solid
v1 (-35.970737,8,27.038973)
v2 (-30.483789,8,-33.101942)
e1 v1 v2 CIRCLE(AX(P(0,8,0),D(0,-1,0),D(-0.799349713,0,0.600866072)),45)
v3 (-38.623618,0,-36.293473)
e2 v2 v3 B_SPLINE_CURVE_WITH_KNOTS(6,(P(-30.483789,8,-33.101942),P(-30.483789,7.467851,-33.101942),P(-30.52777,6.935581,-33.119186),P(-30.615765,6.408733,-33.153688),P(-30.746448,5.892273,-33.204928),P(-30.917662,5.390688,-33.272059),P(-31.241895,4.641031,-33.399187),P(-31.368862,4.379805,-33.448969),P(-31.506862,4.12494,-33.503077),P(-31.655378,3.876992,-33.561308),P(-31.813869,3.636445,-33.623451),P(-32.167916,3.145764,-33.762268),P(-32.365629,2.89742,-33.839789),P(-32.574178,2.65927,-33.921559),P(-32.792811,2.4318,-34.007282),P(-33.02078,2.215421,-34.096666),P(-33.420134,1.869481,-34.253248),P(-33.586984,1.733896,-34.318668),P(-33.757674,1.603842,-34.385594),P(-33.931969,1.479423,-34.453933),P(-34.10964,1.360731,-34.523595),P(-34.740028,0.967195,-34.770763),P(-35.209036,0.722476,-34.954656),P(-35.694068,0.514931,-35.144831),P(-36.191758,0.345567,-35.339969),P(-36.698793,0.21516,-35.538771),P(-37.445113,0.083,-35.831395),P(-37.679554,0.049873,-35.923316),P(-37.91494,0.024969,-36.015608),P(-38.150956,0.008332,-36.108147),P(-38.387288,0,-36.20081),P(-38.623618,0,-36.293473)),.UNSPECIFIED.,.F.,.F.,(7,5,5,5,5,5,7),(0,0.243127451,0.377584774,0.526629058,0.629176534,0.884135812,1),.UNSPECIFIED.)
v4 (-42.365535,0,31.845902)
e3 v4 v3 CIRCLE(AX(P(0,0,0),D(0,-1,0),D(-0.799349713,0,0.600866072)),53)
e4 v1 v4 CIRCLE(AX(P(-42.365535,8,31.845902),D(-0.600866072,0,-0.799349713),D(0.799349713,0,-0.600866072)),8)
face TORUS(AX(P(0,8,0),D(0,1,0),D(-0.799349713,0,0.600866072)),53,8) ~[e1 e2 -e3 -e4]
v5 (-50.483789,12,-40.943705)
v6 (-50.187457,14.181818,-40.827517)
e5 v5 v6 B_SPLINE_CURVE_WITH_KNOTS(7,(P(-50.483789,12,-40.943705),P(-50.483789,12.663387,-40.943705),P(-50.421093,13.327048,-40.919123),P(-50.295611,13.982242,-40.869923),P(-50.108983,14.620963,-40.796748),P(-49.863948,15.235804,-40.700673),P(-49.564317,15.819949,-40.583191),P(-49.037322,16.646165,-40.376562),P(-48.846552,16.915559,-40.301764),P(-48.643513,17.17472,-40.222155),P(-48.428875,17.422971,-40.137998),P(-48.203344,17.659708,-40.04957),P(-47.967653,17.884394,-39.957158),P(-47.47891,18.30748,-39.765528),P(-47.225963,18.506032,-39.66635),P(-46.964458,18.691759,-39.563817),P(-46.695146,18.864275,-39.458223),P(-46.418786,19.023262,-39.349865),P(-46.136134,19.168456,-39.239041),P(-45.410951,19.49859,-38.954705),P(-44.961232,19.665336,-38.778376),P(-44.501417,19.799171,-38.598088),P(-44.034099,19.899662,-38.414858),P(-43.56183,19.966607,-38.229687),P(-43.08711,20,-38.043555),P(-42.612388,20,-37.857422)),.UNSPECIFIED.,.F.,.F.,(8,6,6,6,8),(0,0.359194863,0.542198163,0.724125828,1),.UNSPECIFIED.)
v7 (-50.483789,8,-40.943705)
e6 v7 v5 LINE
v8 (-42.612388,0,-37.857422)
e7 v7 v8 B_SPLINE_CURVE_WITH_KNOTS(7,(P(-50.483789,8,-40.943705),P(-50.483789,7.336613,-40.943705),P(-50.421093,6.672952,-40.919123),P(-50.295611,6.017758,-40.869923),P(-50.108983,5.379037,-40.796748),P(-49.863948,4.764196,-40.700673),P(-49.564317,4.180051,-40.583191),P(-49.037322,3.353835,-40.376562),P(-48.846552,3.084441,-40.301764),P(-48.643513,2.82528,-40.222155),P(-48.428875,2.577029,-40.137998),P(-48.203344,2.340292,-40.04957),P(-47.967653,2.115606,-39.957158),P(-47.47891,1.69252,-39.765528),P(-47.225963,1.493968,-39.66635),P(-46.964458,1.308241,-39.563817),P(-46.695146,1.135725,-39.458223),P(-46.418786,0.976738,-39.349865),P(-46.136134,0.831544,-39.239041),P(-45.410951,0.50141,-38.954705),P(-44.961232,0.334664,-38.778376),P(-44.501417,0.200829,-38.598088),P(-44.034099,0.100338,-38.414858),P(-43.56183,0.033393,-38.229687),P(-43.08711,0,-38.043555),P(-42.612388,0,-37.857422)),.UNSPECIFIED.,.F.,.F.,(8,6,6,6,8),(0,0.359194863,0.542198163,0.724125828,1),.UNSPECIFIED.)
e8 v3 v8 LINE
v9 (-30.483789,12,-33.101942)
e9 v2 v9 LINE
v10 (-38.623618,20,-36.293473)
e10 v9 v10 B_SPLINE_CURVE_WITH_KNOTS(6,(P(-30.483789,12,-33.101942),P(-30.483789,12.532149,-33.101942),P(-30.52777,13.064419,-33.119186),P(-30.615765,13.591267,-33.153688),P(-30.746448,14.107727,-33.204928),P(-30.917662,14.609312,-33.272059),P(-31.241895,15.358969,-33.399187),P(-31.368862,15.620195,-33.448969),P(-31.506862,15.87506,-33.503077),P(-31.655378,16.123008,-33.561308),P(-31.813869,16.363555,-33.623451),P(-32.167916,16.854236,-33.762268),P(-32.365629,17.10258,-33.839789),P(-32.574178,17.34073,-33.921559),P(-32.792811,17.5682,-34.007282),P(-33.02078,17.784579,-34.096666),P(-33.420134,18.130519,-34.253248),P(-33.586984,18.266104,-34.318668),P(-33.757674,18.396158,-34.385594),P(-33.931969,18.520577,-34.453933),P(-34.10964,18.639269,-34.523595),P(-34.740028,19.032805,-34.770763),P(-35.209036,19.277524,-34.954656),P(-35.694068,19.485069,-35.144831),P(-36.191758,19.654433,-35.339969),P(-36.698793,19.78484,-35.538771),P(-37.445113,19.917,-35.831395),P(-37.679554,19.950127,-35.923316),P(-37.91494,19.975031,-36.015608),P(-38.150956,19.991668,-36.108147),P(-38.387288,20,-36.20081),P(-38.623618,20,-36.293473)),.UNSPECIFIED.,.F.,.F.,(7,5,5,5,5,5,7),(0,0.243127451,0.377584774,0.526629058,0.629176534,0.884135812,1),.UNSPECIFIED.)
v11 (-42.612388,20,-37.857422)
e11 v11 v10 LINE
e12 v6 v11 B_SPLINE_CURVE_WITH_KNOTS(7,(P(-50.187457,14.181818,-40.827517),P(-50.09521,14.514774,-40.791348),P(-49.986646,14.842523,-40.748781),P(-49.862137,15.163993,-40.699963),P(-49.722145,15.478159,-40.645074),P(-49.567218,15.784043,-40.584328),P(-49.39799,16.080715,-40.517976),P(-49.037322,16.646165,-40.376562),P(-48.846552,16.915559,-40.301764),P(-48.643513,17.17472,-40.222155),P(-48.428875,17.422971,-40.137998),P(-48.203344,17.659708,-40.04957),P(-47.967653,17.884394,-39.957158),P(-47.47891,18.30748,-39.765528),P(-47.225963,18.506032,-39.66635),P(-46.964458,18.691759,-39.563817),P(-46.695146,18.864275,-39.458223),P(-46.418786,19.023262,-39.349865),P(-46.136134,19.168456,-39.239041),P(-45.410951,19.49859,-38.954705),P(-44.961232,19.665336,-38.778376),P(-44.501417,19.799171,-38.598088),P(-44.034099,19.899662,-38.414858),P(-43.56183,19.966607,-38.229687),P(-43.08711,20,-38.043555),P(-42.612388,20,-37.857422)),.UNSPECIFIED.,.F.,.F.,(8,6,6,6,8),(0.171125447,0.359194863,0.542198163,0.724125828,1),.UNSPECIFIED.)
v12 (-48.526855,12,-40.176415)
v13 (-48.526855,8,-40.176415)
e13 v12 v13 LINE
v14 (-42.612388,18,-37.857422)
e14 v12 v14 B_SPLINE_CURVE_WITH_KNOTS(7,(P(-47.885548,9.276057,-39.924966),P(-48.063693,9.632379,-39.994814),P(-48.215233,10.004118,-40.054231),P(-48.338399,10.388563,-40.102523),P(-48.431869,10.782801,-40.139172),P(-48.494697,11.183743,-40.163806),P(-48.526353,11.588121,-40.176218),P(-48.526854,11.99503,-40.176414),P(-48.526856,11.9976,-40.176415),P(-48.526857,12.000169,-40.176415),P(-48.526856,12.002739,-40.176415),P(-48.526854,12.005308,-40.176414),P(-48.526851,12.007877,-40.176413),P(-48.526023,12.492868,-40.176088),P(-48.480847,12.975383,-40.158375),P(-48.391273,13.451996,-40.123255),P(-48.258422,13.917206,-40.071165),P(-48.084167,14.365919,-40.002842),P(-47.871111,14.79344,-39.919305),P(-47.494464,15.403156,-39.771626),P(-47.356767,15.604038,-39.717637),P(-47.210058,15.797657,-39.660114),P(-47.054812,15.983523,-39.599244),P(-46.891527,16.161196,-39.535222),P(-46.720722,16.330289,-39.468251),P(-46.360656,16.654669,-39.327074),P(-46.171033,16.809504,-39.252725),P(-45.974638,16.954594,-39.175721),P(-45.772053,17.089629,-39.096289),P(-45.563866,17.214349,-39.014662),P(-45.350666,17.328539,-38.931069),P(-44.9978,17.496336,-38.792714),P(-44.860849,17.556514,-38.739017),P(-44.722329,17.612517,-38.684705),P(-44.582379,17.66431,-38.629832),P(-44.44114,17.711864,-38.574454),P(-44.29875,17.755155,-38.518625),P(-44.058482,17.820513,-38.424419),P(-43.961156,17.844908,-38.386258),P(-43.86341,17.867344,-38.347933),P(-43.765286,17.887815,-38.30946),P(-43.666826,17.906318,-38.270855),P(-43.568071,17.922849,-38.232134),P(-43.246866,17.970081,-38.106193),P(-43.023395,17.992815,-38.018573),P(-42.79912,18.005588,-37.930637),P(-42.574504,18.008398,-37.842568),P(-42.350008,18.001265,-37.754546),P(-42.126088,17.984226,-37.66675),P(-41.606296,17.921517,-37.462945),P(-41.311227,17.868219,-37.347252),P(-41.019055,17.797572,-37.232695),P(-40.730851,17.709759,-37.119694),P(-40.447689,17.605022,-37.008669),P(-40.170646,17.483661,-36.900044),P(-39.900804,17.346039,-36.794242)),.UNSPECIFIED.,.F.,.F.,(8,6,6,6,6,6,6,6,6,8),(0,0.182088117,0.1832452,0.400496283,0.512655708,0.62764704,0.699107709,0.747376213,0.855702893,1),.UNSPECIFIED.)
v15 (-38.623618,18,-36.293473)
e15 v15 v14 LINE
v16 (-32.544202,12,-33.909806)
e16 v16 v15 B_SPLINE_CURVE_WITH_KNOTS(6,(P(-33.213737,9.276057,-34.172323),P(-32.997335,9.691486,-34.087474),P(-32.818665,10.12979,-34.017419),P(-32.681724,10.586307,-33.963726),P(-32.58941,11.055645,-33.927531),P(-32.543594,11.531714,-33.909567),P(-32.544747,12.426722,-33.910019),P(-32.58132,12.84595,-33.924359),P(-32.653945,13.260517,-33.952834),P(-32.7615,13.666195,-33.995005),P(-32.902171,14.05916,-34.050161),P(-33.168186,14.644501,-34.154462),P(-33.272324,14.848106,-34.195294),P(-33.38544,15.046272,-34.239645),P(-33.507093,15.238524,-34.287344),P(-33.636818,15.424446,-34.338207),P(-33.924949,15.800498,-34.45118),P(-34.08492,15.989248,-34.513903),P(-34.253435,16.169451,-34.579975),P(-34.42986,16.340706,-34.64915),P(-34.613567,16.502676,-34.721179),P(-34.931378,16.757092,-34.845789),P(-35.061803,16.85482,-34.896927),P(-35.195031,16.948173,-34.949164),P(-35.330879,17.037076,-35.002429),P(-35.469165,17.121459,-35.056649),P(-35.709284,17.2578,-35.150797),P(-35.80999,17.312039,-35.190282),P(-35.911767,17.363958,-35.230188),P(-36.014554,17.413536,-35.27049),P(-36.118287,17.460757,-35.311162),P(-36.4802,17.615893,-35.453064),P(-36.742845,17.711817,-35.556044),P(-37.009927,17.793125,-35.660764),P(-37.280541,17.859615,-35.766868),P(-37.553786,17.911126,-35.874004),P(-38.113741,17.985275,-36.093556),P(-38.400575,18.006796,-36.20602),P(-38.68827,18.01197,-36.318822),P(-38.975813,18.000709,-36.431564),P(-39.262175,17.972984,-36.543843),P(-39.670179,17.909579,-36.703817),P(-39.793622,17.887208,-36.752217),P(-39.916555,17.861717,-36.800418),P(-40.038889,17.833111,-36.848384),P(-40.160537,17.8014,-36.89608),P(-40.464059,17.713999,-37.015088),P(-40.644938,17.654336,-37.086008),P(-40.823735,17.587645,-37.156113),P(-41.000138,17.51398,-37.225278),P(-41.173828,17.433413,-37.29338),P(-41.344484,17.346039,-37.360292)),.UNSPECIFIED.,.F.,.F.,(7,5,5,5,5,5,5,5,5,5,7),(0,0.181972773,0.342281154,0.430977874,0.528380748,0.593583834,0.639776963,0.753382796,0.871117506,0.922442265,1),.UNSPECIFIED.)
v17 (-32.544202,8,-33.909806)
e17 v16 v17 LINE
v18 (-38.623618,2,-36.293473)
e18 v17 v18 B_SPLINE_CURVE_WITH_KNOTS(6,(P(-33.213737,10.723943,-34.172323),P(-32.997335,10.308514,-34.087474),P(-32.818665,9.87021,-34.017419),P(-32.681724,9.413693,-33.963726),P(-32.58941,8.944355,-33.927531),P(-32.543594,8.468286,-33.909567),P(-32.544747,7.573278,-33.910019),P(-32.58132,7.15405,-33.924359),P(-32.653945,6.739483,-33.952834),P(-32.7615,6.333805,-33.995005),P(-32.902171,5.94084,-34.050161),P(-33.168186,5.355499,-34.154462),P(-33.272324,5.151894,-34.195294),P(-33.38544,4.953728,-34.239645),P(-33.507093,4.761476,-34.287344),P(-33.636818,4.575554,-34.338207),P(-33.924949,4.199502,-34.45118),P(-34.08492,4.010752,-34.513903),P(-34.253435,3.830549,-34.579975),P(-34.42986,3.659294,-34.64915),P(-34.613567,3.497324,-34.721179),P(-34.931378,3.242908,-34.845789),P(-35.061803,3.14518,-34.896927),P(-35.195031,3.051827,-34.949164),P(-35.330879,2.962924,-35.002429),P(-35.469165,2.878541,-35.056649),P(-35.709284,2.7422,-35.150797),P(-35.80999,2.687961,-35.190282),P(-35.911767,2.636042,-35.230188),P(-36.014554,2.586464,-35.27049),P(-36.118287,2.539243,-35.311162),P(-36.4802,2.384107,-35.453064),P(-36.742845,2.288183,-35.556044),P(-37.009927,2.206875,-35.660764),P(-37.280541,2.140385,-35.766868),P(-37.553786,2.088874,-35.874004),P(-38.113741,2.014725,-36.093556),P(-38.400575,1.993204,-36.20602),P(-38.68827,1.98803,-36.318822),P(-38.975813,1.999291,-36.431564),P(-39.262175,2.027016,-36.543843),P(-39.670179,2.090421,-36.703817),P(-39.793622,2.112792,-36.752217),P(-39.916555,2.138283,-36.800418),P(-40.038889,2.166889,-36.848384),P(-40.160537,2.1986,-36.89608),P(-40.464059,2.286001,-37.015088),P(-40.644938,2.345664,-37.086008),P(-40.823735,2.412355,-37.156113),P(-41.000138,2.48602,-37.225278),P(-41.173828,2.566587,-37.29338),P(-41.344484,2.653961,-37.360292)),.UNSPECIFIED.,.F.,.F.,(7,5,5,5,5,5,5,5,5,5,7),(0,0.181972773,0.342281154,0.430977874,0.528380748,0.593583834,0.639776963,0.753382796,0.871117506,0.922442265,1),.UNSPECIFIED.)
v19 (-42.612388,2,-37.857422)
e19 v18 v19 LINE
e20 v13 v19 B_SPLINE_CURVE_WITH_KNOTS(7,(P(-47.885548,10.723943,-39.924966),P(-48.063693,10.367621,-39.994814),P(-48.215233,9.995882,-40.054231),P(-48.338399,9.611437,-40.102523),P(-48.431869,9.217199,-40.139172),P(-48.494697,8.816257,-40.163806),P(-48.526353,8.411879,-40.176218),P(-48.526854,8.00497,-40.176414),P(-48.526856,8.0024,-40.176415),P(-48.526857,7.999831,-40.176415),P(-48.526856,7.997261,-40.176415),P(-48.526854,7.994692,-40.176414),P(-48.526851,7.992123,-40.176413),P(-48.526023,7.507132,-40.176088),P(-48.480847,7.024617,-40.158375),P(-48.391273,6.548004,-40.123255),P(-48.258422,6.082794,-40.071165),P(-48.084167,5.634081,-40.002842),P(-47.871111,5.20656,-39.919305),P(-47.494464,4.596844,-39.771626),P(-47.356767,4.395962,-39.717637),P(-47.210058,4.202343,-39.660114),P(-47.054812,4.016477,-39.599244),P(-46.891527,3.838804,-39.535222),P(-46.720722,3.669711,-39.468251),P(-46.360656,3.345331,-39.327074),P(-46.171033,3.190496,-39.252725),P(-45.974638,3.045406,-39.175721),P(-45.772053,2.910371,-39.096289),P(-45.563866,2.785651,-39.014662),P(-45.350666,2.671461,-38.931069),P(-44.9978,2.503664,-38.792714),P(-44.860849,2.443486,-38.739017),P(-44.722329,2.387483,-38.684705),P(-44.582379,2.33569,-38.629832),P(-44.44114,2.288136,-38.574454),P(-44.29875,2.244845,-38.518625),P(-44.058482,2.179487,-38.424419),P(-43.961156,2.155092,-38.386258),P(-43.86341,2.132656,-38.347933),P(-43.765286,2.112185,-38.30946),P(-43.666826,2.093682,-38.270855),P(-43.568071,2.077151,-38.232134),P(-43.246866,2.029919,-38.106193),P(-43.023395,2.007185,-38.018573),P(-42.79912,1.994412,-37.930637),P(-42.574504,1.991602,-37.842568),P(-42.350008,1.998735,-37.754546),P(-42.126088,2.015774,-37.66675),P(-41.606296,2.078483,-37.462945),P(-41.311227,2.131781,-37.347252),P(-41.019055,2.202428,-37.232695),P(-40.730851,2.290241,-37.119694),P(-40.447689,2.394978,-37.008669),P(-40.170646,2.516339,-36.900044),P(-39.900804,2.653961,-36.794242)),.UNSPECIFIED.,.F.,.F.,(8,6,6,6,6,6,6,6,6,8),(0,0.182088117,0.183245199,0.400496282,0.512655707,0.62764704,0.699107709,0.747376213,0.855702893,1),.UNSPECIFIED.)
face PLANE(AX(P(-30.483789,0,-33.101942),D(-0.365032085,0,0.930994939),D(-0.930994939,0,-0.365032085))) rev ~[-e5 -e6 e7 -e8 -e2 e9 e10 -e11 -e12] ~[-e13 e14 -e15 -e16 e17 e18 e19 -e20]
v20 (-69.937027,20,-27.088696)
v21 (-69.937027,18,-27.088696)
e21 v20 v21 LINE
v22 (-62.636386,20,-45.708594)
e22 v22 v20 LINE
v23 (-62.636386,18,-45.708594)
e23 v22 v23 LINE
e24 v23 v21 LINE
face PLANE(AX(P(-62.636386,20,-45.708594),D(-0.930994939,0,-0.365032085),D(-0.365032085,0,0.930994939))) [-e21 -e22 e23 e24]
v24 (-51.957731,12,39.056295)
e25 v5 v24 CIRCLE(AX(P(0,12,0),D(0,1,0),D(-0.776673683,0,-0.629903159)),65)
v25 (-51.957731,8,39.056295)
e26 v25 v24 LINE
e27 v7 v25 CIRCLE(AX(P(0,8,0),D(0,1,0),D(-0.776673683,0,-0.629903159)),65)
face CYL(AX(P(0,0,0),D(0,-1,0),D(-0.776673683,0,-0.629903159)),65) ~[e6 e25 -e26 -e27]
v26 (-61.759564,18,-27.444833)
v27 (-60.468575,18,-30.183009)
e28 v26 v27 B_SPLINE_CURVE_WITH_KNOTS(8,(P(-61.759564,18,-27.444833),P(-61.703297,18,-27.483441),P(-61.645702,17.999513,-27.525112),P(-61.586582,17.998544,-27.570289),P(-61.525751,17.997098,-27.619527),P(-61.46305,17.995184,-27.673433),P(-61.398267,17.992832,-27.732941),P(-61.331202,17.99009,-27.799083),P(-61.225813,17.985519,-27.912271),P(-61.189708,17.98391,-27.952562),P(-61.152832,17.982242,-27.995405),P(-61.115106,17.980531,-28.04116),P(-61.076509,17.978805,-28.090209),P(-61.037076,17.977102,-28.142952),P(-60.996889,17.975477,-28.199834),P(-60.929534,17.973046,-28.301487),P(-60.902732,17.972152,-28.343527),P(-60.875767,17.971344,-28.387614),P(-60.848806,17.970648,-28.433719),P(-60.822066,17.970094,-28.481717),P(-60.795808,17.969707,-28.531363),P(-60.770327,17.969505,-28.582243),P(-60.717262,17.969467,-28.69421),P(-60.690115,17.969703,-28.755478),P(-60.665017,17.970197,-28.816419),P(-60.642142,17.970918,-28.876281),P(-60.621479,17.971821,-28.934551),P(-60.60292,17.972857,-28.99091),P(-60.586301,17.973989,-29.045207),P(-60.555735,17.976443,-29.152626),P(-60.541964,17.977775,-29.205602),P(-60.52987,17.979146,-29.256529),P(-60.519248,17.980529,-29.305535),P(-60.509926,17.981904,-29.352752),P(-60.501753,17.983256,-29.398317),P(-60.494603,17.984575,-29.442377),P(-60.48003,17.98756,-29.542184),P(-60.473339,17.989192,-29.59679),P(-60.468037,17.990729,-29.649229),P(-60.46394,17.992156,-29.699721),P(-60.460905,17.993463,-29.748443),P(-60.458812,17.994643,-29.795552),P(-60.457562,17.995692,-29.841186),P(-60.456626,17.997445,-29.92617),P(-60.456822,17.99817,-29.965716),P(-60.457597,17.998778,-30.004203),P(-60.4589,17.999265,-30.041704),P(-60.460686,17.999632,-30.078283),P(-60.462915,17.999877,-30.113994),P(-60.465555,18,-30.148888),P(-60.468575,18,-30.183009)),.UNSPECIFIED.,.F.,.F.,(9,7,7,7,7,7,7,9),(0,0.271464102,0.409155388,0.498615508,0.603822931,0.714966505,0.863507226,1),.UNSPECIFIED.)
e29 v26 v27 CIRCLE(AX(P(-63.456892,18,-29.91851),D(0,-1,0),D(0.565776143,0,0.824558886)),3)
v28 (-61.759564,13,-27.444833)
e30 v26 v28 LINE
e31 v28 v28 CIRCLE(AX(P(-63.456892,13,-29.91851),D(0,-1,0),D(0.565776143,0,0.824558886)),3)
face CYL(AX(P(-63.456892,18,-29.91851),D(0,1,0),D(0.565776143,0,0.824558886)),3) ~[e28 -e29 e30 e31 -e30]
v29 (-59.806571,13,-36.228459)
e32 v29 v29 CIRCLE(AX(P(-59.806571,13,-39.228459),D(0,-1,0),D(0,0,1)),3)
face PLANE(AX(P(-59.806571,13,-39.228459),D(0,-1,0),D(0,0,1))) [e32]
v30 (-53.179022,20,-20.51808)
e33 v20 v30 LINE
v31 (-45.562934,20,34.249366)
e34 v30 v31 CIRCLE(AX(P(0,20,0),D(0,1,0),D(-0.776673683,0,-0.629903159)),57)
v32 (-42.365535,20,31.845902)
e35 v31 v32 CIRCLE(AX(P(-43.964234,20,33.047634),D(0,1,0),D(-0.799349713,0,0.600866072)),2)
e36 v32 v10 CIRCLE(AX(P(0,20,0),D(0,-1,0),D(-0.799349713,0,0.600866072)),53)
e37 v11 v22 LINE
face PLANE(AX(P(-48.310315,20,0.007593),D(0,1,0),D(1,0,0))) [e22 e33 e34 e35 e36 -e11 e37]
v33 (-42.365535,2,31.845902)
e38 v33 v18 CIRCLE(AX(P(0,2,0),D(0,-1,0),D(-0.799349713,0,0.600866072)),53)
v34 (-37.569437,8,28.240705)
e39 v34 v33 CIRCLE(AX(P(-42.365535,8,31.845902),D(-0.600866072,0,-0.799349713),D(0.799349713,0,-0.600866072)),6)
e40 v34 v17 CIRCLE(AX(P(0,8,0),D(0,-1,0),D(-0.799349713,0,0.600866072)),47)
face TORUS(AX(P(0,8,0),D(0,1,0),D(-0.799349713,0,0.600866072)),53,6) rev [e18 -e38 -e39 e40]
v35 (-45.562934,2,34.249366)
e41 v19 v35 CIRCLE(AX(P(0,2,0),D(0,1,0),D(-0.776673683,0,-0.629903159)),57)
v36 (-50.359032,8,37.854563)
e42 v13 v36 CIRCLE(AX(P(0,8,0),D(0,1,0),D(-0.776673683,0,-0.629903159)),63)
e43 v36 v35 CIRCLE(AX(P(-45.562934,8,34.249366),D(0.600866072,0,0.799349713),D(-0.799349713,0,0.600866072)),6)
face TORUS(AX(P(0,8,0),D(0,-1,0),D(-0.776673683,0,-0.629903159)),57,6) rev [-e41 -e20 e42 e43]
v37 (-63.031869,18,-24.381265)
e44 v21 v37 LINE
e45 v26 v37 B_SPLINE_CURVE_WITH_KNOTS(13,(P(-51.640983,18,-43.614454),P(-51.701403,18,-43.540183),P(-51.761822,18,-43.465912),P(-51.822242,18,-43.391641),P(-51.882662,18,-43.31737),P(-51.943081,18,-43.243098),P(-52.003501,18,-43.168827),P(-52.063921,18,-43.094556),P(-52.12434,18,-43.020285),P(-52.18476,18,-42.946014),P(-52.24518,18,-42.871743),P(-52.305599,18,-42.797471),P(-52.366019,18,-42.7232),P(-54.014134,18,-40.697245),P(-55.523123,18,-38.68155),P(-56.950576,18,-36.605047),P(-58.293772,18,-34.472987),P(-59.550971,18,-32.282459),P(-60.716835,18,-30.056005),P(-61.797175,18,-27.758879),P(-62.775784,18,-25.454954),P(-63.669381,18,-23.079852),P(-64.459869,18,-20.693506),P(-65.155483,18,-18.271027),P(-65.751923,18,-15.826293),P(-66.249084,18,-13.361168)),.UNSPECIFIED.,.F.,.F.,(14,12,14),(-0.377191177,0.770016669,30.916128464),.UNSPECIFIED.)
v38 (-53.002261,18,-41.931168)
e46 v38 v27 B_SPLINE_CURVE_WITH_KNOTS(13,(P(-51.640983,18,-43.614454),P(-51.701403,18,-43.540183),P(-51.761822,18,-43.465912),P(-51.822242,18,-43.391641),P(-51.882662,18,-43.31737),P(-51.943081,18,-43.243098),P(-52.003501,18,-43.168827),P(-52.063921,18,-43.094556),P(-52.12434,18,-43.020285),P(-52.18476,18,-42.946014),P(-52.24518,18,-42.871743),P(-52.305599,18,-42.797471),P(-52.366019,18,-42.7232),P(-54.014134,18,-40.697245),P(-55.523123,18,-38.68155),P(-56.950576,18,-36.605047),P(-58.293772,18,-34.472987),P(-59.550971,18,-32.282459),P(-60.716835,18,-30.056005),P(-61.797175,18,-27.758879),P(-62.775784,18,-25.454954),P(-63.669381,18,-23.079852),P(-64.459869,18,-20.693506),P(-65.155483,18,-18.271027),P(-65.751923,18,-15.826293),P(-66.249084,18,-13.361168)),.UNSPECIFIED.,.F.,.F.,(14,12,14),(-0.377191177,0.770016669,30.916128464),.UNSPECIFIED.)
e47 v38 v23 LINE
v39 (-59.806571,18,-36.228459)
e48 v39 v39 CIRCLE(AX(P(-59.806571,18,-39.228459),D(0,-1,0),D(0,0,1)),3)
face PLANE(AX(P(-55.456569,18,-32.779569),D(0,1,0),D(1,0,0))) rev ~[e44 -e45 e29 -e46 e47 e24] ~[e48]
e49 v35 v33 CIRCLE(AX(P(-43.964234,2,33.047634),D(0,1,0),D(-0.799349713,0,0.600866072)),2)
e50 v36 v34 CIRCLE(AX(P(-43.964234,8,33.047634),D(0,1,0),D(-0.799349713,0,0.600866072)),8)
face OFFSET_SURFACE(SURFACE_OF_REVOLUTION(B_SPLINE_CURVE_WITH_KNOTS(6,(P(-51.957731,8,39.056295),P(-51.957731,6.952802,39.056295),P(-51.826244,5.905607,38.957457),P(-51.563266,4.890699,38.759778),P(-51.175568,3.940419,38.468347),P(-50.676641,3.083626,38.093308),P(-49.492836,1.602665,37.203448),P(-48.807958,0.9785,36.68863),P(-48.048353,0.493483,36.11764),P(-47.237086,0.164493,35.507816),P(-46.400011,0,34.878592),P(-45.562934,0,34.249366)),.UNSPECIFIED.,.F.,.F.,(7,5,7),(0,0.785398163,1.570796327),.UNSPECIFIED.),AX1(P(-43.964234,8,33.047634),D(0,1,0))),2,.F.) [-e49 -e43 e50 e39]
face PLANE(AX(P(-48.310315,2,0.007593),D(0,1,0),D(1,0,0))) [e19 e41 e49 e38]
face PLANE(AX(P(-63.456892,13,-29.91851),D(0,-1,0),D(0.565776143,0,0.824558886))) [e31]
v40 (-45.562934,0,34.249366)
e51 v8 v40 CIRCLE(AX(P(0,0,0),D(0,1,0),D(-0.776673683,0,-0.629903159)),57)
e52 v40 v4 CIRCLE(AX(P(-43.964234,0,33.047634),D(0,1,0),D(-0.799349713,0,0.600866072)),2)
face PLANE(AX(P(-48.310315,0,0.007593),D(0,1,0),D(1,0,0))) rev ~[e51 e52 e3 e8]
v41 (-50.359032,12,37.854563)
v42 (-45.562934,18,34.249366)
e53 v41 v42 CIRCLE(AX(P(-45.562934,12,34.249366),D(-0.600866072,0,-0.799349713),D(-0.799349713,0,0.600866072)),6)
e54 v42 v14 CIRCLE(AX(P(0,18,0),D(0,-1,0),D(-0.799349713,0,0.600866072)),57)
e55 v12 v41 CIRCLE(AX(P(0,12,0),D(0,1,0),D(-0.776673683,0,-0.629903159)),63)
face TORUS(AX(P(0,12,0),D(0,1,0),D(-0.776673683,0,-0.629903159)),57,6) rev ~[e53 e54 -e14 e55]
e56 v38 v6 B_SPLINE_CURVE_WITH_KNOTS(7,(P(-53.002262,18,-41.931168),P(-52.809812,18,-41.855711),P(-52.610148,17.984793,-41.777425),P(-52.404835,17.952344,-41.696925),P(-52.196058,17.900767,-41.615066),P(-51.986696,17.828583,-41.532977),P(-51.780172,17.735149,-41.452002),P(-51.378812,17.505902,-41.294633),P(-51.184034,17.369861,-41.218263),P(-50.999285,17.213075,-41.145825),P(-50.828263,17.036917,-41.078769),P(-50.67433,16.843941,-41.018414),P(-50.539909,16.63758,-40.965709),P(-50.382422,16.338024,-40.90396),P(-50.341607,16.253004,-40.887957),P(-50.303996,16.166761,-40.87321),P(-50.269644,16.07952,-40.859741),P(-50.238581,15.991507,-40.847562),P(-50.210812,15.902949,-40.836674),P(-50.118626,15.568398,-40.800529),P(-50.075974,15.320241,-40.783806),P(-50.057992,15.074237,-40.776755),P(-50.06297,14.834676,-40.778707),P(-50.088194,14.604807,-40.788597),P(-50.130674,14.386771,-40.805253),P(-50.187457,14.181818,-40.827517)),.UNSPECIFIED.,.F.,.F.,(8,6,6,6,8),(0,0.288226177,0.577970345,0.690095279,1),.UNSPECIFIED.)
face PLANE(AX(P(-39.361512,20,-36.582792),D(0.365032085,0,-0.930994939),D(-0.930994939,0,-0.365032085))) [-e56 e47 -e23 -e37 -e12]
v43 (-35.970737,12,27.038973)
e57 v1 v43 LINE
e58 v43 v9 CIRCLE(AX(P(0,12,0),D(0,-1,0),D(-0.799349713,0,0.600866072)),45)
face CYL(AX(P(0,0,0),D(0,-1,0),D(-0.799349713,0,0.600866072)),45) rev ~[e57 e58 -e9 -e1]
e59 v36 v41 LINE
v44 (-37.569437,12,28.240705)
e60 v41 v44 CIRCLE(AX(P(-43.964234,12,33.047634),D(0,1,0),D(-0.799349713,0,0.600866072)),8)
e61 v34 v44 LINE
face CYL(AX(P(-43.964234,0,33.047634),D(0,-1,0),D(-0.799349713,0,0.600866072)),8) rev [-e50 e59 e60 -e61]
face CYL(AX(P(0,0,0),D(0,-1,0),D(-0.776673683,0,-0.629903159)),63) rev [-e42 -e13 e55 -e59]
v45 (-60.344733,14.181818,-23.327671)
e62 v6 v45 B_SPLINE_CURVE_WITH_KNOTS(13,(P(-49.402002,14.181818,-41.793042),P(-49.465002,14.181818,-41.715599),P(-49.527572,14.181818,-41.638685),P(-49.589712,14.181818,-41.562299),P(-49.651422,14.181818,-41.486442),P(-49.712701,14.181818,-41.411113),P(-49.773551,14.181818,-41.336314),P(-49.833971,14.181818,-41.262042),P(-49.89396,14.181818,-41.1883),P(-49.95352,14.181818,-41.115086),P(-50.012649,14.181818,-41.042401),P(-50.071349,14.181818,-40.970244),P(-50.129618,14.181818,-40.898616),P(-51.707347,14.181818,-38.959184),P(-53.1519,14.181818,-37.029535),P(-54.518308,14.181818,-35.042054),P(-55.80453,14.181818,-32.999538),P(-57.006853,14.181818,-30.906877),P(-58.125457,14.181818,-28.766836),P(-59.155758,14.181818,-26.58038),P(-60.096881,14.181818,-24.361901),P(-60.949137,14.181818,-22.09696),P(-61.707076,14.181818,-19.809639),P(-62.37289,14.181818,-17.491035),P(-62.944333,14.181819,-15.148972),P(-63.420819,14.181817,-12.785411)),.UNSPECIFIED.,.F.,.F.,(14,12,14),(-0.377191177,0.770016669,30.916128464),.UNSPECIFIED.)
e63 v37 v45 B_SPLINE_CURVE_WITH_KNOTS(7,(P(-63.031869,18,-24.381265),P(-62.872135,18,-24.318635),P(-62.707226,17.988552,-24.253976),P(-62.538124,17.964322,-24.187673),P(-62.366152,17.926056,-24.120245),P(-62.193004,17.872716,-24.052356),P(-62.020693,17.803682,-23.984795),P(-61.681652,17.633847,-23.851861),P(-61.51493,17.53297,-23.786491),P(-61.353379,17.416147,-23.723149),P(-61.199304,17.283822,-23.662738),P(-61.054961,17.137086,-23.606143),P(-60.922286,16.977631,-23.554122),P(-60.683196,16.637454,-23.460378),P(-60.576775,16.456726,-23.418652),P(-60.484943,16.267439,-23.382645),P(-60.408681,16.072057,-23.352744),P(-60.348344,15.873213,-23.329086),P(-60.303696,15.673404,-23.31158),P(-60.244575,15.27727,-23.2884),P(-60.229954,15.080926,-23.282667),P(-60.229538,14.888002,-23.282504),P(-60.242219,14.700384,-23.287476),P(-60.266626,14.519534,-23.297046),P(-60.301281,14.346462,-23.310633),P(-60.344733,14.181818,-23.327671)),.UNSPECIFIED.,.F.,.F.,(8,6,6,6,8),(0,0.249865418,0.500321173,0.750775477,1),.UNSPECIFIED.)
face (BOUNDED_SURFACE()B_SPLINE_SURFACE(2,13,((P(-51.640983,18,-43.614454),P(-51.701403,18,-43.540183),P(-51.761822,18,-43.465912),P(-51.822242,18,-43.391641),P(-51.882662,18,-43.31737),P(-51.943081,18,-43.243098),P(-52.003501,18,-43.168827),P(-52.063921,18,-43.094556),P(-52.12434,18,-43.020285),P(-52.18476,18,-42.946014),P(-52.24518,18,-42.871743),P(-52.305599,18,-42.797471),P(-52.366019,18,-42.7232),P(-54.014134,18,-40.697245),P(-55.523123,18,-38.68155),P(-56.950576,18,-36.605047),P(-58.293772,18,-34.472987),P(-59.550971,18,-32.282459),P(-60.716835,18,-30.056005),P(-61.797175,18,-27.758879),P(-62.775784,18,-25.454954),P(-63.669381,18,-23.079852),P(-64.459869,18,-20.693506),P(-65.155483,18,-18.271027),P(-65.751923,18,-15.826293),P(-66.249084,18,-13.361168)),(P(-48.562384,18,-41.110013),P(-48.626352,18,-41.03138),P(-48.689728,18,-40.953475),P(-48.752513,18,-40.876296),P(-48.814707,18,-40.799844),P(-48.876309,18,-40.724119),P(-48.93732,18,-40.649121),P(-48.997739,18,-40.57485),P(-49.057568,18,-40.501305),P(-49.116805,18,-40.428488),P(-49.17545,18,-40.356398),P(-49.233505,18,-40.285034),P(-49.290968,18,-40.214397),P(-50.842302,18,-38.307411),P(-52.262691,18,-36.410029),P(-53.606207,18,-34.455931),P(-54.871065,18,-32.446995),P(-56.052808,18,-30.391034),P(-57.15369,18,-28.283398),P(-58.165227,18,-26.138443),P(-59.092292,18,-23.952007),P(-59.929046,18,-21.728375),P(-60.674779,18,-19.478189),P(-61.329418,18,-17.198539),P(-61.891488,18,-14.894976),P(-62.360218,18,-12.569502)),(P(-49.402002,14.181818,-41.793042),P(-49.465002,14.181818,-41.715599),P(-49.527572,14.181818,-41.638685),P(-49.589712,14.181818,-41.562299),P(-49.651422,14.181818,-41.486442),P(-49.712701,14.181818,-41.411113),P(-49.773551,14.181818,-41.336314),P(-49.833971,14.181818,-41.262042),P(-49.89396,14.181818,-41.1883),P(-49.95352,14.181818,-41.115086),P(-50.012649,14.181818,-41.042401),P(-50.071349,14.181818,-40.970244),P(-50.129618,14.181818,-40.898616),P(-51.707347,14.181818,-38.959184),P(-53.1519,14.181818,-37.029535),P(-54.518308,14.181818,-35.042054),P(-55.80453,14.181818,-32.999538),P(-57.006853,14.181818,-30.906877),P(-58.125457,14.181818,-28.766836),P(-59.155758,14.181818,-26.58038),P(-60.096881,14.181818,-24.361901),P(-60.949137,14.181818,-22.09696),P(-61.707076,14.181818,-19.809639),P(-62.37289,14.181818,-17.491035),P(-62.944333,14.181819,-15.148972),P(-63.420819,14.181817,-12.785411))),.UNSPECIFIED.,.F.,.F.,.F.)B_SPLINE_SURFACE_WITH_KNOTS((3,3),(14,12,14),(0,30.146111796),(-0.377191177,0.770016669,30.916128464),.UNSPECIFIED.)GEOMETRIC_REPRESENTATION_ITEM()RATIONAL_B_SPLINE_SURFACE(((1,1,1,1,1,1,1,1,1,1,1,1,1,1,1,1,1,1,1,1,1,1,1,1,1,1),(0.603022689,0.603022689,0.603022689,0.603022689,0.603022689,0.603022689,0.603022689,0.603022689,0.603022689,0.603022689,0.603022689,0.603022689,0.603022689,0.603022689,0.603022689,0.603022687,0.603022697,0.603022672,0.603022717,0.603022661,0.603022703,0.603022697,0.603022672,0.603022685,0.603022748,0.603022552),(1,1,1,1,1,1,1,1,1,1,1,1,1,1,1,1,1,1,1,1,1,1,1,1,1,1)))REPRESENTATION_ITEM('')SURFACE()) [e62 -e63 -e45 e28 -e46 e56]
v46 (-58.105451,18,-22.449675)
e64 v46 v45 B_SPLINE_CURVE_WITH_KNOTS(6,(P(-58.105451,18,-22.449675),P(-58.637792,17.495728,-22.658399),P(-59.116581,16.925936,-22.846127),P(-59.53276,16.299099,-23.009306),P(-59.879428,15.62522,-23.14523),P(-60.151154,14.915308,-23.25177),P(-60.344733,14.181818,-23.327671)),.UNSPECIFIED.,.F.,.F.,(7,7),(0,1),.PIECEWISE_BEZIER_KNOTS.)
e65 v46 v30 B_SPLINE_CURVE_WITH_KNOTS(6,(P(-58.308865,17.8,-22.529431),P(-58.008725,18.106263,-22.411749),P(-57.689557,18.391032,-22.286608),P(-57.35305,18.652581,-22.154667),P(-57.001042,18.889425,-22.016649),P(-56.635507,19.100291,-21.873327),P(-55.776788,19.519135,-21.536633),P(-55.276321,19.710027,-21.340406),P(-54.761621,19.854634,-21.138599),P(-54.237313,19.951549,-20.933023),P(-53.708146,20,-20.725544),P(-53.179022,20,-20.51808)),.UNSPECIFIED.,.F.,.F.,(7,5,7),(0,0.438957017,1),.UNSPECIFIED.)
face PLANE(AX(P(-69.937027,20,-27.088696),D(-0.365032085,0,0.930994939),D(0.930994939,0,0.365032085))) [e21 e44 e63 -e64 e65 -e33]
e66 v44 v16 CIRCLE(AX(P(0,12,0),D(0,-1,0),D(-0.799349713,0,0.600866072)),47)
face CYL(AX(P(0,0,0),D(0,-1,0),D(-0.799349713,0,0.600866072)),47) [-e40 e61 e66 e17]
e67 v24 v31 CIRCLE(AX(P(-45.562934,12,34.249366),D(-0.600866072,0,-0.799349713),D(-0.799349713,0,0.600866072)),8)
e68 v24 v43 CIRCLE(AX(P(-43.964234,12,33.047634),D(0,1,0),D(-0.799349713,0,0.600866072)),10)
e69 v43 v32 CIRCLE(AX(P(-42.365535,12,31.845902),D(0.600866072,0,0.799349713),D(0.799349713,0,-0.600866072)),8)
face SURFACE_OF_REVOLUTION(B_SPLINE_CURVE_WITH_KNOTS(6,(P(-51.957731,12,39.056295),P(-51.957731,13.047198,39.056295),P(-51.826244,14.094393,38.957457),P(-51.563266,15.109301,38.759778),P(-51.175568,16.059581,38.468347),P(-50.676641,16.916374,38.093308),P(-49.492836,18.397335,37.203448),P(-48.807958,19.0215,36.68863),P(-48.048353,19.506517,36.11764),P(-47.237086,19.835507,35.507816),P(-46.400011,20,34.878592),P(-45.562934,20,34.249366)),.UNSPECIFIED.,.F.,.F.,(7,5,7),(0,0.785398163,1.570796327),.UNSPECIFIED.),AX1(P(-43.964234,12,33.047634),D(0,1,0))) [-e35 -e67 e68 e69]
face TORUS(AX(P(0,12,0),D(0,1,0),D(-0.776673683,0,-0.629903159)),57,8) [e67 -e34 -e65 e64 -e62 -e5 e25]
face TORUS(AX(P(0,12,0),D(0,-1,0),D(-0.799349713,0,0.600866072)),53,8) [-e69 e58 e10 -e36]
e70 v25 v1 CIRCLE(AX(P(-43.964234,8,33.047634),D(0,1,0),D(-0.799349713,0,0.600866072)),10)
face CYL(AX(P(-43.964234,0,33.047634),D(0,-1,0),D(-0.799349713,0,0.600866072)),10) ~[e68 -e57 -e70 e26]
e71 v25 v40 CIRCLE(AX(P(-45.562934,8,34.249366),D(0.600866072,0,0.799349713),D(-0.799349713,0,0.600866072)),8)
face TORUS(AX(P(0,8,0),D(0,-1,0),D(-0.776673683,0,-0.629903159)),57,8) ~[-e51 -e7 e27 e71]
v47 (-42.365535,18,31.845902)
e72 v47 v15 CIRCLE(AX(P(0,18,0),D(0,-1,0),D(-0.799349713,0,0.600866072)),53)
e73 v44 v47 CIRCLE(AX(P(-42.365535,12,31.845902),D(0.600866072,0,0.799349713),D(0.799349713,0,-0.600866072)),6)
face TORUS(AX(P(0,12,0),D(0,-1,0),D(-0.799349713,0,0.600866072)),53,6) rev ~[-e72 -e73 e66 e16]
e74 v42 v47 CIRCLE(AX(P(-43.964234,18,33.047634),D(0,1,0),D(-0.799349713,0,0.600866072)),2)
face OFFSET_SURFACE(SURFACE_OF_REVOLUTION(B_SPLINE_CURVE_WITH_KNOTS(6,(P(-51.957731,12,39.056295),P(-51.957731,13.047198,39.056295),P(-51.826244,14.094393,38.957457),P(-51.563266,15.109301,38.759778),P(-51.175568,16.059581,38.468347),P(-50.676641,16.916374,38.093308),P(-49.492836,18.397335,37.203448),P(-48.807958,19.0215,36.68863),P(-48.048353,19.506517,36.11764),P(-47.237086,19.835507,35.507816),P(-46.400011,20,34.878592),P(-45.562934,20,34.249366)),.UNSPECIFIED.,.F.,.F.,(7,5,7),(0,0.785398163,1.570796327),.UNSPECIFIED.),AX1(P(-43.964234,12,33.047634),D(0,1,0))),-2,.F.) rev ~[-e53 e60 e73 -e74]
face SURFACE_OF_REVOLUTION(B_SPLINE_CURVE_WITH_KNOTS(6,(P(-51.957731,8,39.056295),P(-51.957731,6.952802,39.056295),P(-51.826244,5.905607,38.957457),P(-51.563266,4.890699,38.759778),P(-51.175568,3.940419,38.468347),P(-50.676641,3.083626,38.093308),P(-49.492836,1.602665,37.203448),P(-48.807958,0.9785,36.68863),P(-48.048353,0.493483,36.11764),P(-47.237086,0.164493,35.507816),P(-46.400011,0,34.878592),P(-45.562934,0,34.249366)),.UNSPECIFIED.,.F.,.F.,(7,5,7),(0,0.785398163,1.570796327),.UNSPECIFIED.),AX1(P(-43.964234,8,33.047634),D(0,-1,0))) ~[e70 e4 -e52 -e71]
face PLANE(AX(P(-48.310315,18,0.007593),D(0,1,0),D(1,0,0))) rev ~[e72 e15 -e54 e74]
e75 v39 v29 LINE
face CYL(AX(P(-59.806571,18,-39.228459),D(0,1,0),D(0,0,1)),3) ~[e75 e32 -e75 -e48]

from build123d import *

# Parameters (mm, degrees)
BOSS_EXTRUDE1_DEPTH = 20
FILLET4_R           = 8
SHELL4_T            = -2
BOSS_EXTRUDE3_DEPTH = 2
FILLET5_R           = 3
SKETCH4_R           = 3
BOSS_EXTRUDE4_DEPTH = 5


with BuildPart() as part:
    # Sketch1 → Boss-Extrude1 (new body)
    with BuildSketch(Plane(origin=(0, 0, 0), x_dir=(1, 0, 0), z_dir=(0, 1, 0))):
        with BuildLine():
            Line((-30.483789425, 33.101942273), (-50.483789425, 40.943705319))
            ThreePointArc((-50.483789425, 40.943705319), (-64.988970557, 1.197374595), (-51.957731338, -39.056294681))
            ThreePointArc((-51.957731338, -39.056294681), (-37.955573489, -41.04113109), (-35.97073708, -27.038973241))
            ThreePointArc((-35.97073708, -27.038973241), (-44.813875675, 4.088587411), (-30.483789425, 33.101942273))
        make_face()
    extrude(amount=BOSS_EXTRUDE1_DEPTH)

    # Fillet4
    fillet4_edges = [part.edges().sort_by_distance(p)[0] for p in [
        (-44.813875675, 20, -4.088587411),
        (-64.988970557, 20, -1.197374595),
        (-44.813875675, 0, -4.088587411),
        (-37.955573489, 0, 41.04113109),
        (-64.988970557, 0, -1.197374595),
        (-37.955573489, 20, 41.04113109),
    ]]
    fillet(fillet4_edges, radius=FILLET4_R)

    # Shell4
    shell4_openings = [part.faces().sort_by_distance(p)[0] for p in [
        (-40.508625428, 10, -37.032561699),
    ]]
    offset(amount=SHELL4_T, openings=shell4_openings, kind=Kind.INTERSECTION)

    # Sketch2 → Boss-Extrude3 (add)
    with BuildSketch(Plane(origin=(0, 20, 0), x_dir=(1, 0, 0), z_dir=(0, 1, 0))):
        Polygon((-39.36151224, 36.582792208), (-62.636385717, 45.708594344), (-69.937027426, 27.088695563), (-51.317128644, 19.788053854), align=None)
    extrude(amount=-BOSS_EXTRUDE3_DEPTH)

    # Fillet5
    fillet5_edges = [part.edges().sort_by_distance(p)[0] for p in [
        (-53.682873098, 18, -31.597158652),
    ]]
    fillet(fillet5_edges, radius=FILLET5_R)

    # Sketch4 → Boss-Extrude4 (add)
    with BuildSketch(Plane.XZ.offset(-18)):
        with Locations(Location((-59.806571448, -39.228459222, 0), (0, 0, 90))):
            Circle(SKETCH4_R)
        with Locations(Location((-63.456892303, -29.918509831, 0), (0, 0, 55.543794566))):
            Circle(SKETCH4_R)
    extrude(amount=BOSS_EXTRUDE4_DEPTH)


solid = part.part
